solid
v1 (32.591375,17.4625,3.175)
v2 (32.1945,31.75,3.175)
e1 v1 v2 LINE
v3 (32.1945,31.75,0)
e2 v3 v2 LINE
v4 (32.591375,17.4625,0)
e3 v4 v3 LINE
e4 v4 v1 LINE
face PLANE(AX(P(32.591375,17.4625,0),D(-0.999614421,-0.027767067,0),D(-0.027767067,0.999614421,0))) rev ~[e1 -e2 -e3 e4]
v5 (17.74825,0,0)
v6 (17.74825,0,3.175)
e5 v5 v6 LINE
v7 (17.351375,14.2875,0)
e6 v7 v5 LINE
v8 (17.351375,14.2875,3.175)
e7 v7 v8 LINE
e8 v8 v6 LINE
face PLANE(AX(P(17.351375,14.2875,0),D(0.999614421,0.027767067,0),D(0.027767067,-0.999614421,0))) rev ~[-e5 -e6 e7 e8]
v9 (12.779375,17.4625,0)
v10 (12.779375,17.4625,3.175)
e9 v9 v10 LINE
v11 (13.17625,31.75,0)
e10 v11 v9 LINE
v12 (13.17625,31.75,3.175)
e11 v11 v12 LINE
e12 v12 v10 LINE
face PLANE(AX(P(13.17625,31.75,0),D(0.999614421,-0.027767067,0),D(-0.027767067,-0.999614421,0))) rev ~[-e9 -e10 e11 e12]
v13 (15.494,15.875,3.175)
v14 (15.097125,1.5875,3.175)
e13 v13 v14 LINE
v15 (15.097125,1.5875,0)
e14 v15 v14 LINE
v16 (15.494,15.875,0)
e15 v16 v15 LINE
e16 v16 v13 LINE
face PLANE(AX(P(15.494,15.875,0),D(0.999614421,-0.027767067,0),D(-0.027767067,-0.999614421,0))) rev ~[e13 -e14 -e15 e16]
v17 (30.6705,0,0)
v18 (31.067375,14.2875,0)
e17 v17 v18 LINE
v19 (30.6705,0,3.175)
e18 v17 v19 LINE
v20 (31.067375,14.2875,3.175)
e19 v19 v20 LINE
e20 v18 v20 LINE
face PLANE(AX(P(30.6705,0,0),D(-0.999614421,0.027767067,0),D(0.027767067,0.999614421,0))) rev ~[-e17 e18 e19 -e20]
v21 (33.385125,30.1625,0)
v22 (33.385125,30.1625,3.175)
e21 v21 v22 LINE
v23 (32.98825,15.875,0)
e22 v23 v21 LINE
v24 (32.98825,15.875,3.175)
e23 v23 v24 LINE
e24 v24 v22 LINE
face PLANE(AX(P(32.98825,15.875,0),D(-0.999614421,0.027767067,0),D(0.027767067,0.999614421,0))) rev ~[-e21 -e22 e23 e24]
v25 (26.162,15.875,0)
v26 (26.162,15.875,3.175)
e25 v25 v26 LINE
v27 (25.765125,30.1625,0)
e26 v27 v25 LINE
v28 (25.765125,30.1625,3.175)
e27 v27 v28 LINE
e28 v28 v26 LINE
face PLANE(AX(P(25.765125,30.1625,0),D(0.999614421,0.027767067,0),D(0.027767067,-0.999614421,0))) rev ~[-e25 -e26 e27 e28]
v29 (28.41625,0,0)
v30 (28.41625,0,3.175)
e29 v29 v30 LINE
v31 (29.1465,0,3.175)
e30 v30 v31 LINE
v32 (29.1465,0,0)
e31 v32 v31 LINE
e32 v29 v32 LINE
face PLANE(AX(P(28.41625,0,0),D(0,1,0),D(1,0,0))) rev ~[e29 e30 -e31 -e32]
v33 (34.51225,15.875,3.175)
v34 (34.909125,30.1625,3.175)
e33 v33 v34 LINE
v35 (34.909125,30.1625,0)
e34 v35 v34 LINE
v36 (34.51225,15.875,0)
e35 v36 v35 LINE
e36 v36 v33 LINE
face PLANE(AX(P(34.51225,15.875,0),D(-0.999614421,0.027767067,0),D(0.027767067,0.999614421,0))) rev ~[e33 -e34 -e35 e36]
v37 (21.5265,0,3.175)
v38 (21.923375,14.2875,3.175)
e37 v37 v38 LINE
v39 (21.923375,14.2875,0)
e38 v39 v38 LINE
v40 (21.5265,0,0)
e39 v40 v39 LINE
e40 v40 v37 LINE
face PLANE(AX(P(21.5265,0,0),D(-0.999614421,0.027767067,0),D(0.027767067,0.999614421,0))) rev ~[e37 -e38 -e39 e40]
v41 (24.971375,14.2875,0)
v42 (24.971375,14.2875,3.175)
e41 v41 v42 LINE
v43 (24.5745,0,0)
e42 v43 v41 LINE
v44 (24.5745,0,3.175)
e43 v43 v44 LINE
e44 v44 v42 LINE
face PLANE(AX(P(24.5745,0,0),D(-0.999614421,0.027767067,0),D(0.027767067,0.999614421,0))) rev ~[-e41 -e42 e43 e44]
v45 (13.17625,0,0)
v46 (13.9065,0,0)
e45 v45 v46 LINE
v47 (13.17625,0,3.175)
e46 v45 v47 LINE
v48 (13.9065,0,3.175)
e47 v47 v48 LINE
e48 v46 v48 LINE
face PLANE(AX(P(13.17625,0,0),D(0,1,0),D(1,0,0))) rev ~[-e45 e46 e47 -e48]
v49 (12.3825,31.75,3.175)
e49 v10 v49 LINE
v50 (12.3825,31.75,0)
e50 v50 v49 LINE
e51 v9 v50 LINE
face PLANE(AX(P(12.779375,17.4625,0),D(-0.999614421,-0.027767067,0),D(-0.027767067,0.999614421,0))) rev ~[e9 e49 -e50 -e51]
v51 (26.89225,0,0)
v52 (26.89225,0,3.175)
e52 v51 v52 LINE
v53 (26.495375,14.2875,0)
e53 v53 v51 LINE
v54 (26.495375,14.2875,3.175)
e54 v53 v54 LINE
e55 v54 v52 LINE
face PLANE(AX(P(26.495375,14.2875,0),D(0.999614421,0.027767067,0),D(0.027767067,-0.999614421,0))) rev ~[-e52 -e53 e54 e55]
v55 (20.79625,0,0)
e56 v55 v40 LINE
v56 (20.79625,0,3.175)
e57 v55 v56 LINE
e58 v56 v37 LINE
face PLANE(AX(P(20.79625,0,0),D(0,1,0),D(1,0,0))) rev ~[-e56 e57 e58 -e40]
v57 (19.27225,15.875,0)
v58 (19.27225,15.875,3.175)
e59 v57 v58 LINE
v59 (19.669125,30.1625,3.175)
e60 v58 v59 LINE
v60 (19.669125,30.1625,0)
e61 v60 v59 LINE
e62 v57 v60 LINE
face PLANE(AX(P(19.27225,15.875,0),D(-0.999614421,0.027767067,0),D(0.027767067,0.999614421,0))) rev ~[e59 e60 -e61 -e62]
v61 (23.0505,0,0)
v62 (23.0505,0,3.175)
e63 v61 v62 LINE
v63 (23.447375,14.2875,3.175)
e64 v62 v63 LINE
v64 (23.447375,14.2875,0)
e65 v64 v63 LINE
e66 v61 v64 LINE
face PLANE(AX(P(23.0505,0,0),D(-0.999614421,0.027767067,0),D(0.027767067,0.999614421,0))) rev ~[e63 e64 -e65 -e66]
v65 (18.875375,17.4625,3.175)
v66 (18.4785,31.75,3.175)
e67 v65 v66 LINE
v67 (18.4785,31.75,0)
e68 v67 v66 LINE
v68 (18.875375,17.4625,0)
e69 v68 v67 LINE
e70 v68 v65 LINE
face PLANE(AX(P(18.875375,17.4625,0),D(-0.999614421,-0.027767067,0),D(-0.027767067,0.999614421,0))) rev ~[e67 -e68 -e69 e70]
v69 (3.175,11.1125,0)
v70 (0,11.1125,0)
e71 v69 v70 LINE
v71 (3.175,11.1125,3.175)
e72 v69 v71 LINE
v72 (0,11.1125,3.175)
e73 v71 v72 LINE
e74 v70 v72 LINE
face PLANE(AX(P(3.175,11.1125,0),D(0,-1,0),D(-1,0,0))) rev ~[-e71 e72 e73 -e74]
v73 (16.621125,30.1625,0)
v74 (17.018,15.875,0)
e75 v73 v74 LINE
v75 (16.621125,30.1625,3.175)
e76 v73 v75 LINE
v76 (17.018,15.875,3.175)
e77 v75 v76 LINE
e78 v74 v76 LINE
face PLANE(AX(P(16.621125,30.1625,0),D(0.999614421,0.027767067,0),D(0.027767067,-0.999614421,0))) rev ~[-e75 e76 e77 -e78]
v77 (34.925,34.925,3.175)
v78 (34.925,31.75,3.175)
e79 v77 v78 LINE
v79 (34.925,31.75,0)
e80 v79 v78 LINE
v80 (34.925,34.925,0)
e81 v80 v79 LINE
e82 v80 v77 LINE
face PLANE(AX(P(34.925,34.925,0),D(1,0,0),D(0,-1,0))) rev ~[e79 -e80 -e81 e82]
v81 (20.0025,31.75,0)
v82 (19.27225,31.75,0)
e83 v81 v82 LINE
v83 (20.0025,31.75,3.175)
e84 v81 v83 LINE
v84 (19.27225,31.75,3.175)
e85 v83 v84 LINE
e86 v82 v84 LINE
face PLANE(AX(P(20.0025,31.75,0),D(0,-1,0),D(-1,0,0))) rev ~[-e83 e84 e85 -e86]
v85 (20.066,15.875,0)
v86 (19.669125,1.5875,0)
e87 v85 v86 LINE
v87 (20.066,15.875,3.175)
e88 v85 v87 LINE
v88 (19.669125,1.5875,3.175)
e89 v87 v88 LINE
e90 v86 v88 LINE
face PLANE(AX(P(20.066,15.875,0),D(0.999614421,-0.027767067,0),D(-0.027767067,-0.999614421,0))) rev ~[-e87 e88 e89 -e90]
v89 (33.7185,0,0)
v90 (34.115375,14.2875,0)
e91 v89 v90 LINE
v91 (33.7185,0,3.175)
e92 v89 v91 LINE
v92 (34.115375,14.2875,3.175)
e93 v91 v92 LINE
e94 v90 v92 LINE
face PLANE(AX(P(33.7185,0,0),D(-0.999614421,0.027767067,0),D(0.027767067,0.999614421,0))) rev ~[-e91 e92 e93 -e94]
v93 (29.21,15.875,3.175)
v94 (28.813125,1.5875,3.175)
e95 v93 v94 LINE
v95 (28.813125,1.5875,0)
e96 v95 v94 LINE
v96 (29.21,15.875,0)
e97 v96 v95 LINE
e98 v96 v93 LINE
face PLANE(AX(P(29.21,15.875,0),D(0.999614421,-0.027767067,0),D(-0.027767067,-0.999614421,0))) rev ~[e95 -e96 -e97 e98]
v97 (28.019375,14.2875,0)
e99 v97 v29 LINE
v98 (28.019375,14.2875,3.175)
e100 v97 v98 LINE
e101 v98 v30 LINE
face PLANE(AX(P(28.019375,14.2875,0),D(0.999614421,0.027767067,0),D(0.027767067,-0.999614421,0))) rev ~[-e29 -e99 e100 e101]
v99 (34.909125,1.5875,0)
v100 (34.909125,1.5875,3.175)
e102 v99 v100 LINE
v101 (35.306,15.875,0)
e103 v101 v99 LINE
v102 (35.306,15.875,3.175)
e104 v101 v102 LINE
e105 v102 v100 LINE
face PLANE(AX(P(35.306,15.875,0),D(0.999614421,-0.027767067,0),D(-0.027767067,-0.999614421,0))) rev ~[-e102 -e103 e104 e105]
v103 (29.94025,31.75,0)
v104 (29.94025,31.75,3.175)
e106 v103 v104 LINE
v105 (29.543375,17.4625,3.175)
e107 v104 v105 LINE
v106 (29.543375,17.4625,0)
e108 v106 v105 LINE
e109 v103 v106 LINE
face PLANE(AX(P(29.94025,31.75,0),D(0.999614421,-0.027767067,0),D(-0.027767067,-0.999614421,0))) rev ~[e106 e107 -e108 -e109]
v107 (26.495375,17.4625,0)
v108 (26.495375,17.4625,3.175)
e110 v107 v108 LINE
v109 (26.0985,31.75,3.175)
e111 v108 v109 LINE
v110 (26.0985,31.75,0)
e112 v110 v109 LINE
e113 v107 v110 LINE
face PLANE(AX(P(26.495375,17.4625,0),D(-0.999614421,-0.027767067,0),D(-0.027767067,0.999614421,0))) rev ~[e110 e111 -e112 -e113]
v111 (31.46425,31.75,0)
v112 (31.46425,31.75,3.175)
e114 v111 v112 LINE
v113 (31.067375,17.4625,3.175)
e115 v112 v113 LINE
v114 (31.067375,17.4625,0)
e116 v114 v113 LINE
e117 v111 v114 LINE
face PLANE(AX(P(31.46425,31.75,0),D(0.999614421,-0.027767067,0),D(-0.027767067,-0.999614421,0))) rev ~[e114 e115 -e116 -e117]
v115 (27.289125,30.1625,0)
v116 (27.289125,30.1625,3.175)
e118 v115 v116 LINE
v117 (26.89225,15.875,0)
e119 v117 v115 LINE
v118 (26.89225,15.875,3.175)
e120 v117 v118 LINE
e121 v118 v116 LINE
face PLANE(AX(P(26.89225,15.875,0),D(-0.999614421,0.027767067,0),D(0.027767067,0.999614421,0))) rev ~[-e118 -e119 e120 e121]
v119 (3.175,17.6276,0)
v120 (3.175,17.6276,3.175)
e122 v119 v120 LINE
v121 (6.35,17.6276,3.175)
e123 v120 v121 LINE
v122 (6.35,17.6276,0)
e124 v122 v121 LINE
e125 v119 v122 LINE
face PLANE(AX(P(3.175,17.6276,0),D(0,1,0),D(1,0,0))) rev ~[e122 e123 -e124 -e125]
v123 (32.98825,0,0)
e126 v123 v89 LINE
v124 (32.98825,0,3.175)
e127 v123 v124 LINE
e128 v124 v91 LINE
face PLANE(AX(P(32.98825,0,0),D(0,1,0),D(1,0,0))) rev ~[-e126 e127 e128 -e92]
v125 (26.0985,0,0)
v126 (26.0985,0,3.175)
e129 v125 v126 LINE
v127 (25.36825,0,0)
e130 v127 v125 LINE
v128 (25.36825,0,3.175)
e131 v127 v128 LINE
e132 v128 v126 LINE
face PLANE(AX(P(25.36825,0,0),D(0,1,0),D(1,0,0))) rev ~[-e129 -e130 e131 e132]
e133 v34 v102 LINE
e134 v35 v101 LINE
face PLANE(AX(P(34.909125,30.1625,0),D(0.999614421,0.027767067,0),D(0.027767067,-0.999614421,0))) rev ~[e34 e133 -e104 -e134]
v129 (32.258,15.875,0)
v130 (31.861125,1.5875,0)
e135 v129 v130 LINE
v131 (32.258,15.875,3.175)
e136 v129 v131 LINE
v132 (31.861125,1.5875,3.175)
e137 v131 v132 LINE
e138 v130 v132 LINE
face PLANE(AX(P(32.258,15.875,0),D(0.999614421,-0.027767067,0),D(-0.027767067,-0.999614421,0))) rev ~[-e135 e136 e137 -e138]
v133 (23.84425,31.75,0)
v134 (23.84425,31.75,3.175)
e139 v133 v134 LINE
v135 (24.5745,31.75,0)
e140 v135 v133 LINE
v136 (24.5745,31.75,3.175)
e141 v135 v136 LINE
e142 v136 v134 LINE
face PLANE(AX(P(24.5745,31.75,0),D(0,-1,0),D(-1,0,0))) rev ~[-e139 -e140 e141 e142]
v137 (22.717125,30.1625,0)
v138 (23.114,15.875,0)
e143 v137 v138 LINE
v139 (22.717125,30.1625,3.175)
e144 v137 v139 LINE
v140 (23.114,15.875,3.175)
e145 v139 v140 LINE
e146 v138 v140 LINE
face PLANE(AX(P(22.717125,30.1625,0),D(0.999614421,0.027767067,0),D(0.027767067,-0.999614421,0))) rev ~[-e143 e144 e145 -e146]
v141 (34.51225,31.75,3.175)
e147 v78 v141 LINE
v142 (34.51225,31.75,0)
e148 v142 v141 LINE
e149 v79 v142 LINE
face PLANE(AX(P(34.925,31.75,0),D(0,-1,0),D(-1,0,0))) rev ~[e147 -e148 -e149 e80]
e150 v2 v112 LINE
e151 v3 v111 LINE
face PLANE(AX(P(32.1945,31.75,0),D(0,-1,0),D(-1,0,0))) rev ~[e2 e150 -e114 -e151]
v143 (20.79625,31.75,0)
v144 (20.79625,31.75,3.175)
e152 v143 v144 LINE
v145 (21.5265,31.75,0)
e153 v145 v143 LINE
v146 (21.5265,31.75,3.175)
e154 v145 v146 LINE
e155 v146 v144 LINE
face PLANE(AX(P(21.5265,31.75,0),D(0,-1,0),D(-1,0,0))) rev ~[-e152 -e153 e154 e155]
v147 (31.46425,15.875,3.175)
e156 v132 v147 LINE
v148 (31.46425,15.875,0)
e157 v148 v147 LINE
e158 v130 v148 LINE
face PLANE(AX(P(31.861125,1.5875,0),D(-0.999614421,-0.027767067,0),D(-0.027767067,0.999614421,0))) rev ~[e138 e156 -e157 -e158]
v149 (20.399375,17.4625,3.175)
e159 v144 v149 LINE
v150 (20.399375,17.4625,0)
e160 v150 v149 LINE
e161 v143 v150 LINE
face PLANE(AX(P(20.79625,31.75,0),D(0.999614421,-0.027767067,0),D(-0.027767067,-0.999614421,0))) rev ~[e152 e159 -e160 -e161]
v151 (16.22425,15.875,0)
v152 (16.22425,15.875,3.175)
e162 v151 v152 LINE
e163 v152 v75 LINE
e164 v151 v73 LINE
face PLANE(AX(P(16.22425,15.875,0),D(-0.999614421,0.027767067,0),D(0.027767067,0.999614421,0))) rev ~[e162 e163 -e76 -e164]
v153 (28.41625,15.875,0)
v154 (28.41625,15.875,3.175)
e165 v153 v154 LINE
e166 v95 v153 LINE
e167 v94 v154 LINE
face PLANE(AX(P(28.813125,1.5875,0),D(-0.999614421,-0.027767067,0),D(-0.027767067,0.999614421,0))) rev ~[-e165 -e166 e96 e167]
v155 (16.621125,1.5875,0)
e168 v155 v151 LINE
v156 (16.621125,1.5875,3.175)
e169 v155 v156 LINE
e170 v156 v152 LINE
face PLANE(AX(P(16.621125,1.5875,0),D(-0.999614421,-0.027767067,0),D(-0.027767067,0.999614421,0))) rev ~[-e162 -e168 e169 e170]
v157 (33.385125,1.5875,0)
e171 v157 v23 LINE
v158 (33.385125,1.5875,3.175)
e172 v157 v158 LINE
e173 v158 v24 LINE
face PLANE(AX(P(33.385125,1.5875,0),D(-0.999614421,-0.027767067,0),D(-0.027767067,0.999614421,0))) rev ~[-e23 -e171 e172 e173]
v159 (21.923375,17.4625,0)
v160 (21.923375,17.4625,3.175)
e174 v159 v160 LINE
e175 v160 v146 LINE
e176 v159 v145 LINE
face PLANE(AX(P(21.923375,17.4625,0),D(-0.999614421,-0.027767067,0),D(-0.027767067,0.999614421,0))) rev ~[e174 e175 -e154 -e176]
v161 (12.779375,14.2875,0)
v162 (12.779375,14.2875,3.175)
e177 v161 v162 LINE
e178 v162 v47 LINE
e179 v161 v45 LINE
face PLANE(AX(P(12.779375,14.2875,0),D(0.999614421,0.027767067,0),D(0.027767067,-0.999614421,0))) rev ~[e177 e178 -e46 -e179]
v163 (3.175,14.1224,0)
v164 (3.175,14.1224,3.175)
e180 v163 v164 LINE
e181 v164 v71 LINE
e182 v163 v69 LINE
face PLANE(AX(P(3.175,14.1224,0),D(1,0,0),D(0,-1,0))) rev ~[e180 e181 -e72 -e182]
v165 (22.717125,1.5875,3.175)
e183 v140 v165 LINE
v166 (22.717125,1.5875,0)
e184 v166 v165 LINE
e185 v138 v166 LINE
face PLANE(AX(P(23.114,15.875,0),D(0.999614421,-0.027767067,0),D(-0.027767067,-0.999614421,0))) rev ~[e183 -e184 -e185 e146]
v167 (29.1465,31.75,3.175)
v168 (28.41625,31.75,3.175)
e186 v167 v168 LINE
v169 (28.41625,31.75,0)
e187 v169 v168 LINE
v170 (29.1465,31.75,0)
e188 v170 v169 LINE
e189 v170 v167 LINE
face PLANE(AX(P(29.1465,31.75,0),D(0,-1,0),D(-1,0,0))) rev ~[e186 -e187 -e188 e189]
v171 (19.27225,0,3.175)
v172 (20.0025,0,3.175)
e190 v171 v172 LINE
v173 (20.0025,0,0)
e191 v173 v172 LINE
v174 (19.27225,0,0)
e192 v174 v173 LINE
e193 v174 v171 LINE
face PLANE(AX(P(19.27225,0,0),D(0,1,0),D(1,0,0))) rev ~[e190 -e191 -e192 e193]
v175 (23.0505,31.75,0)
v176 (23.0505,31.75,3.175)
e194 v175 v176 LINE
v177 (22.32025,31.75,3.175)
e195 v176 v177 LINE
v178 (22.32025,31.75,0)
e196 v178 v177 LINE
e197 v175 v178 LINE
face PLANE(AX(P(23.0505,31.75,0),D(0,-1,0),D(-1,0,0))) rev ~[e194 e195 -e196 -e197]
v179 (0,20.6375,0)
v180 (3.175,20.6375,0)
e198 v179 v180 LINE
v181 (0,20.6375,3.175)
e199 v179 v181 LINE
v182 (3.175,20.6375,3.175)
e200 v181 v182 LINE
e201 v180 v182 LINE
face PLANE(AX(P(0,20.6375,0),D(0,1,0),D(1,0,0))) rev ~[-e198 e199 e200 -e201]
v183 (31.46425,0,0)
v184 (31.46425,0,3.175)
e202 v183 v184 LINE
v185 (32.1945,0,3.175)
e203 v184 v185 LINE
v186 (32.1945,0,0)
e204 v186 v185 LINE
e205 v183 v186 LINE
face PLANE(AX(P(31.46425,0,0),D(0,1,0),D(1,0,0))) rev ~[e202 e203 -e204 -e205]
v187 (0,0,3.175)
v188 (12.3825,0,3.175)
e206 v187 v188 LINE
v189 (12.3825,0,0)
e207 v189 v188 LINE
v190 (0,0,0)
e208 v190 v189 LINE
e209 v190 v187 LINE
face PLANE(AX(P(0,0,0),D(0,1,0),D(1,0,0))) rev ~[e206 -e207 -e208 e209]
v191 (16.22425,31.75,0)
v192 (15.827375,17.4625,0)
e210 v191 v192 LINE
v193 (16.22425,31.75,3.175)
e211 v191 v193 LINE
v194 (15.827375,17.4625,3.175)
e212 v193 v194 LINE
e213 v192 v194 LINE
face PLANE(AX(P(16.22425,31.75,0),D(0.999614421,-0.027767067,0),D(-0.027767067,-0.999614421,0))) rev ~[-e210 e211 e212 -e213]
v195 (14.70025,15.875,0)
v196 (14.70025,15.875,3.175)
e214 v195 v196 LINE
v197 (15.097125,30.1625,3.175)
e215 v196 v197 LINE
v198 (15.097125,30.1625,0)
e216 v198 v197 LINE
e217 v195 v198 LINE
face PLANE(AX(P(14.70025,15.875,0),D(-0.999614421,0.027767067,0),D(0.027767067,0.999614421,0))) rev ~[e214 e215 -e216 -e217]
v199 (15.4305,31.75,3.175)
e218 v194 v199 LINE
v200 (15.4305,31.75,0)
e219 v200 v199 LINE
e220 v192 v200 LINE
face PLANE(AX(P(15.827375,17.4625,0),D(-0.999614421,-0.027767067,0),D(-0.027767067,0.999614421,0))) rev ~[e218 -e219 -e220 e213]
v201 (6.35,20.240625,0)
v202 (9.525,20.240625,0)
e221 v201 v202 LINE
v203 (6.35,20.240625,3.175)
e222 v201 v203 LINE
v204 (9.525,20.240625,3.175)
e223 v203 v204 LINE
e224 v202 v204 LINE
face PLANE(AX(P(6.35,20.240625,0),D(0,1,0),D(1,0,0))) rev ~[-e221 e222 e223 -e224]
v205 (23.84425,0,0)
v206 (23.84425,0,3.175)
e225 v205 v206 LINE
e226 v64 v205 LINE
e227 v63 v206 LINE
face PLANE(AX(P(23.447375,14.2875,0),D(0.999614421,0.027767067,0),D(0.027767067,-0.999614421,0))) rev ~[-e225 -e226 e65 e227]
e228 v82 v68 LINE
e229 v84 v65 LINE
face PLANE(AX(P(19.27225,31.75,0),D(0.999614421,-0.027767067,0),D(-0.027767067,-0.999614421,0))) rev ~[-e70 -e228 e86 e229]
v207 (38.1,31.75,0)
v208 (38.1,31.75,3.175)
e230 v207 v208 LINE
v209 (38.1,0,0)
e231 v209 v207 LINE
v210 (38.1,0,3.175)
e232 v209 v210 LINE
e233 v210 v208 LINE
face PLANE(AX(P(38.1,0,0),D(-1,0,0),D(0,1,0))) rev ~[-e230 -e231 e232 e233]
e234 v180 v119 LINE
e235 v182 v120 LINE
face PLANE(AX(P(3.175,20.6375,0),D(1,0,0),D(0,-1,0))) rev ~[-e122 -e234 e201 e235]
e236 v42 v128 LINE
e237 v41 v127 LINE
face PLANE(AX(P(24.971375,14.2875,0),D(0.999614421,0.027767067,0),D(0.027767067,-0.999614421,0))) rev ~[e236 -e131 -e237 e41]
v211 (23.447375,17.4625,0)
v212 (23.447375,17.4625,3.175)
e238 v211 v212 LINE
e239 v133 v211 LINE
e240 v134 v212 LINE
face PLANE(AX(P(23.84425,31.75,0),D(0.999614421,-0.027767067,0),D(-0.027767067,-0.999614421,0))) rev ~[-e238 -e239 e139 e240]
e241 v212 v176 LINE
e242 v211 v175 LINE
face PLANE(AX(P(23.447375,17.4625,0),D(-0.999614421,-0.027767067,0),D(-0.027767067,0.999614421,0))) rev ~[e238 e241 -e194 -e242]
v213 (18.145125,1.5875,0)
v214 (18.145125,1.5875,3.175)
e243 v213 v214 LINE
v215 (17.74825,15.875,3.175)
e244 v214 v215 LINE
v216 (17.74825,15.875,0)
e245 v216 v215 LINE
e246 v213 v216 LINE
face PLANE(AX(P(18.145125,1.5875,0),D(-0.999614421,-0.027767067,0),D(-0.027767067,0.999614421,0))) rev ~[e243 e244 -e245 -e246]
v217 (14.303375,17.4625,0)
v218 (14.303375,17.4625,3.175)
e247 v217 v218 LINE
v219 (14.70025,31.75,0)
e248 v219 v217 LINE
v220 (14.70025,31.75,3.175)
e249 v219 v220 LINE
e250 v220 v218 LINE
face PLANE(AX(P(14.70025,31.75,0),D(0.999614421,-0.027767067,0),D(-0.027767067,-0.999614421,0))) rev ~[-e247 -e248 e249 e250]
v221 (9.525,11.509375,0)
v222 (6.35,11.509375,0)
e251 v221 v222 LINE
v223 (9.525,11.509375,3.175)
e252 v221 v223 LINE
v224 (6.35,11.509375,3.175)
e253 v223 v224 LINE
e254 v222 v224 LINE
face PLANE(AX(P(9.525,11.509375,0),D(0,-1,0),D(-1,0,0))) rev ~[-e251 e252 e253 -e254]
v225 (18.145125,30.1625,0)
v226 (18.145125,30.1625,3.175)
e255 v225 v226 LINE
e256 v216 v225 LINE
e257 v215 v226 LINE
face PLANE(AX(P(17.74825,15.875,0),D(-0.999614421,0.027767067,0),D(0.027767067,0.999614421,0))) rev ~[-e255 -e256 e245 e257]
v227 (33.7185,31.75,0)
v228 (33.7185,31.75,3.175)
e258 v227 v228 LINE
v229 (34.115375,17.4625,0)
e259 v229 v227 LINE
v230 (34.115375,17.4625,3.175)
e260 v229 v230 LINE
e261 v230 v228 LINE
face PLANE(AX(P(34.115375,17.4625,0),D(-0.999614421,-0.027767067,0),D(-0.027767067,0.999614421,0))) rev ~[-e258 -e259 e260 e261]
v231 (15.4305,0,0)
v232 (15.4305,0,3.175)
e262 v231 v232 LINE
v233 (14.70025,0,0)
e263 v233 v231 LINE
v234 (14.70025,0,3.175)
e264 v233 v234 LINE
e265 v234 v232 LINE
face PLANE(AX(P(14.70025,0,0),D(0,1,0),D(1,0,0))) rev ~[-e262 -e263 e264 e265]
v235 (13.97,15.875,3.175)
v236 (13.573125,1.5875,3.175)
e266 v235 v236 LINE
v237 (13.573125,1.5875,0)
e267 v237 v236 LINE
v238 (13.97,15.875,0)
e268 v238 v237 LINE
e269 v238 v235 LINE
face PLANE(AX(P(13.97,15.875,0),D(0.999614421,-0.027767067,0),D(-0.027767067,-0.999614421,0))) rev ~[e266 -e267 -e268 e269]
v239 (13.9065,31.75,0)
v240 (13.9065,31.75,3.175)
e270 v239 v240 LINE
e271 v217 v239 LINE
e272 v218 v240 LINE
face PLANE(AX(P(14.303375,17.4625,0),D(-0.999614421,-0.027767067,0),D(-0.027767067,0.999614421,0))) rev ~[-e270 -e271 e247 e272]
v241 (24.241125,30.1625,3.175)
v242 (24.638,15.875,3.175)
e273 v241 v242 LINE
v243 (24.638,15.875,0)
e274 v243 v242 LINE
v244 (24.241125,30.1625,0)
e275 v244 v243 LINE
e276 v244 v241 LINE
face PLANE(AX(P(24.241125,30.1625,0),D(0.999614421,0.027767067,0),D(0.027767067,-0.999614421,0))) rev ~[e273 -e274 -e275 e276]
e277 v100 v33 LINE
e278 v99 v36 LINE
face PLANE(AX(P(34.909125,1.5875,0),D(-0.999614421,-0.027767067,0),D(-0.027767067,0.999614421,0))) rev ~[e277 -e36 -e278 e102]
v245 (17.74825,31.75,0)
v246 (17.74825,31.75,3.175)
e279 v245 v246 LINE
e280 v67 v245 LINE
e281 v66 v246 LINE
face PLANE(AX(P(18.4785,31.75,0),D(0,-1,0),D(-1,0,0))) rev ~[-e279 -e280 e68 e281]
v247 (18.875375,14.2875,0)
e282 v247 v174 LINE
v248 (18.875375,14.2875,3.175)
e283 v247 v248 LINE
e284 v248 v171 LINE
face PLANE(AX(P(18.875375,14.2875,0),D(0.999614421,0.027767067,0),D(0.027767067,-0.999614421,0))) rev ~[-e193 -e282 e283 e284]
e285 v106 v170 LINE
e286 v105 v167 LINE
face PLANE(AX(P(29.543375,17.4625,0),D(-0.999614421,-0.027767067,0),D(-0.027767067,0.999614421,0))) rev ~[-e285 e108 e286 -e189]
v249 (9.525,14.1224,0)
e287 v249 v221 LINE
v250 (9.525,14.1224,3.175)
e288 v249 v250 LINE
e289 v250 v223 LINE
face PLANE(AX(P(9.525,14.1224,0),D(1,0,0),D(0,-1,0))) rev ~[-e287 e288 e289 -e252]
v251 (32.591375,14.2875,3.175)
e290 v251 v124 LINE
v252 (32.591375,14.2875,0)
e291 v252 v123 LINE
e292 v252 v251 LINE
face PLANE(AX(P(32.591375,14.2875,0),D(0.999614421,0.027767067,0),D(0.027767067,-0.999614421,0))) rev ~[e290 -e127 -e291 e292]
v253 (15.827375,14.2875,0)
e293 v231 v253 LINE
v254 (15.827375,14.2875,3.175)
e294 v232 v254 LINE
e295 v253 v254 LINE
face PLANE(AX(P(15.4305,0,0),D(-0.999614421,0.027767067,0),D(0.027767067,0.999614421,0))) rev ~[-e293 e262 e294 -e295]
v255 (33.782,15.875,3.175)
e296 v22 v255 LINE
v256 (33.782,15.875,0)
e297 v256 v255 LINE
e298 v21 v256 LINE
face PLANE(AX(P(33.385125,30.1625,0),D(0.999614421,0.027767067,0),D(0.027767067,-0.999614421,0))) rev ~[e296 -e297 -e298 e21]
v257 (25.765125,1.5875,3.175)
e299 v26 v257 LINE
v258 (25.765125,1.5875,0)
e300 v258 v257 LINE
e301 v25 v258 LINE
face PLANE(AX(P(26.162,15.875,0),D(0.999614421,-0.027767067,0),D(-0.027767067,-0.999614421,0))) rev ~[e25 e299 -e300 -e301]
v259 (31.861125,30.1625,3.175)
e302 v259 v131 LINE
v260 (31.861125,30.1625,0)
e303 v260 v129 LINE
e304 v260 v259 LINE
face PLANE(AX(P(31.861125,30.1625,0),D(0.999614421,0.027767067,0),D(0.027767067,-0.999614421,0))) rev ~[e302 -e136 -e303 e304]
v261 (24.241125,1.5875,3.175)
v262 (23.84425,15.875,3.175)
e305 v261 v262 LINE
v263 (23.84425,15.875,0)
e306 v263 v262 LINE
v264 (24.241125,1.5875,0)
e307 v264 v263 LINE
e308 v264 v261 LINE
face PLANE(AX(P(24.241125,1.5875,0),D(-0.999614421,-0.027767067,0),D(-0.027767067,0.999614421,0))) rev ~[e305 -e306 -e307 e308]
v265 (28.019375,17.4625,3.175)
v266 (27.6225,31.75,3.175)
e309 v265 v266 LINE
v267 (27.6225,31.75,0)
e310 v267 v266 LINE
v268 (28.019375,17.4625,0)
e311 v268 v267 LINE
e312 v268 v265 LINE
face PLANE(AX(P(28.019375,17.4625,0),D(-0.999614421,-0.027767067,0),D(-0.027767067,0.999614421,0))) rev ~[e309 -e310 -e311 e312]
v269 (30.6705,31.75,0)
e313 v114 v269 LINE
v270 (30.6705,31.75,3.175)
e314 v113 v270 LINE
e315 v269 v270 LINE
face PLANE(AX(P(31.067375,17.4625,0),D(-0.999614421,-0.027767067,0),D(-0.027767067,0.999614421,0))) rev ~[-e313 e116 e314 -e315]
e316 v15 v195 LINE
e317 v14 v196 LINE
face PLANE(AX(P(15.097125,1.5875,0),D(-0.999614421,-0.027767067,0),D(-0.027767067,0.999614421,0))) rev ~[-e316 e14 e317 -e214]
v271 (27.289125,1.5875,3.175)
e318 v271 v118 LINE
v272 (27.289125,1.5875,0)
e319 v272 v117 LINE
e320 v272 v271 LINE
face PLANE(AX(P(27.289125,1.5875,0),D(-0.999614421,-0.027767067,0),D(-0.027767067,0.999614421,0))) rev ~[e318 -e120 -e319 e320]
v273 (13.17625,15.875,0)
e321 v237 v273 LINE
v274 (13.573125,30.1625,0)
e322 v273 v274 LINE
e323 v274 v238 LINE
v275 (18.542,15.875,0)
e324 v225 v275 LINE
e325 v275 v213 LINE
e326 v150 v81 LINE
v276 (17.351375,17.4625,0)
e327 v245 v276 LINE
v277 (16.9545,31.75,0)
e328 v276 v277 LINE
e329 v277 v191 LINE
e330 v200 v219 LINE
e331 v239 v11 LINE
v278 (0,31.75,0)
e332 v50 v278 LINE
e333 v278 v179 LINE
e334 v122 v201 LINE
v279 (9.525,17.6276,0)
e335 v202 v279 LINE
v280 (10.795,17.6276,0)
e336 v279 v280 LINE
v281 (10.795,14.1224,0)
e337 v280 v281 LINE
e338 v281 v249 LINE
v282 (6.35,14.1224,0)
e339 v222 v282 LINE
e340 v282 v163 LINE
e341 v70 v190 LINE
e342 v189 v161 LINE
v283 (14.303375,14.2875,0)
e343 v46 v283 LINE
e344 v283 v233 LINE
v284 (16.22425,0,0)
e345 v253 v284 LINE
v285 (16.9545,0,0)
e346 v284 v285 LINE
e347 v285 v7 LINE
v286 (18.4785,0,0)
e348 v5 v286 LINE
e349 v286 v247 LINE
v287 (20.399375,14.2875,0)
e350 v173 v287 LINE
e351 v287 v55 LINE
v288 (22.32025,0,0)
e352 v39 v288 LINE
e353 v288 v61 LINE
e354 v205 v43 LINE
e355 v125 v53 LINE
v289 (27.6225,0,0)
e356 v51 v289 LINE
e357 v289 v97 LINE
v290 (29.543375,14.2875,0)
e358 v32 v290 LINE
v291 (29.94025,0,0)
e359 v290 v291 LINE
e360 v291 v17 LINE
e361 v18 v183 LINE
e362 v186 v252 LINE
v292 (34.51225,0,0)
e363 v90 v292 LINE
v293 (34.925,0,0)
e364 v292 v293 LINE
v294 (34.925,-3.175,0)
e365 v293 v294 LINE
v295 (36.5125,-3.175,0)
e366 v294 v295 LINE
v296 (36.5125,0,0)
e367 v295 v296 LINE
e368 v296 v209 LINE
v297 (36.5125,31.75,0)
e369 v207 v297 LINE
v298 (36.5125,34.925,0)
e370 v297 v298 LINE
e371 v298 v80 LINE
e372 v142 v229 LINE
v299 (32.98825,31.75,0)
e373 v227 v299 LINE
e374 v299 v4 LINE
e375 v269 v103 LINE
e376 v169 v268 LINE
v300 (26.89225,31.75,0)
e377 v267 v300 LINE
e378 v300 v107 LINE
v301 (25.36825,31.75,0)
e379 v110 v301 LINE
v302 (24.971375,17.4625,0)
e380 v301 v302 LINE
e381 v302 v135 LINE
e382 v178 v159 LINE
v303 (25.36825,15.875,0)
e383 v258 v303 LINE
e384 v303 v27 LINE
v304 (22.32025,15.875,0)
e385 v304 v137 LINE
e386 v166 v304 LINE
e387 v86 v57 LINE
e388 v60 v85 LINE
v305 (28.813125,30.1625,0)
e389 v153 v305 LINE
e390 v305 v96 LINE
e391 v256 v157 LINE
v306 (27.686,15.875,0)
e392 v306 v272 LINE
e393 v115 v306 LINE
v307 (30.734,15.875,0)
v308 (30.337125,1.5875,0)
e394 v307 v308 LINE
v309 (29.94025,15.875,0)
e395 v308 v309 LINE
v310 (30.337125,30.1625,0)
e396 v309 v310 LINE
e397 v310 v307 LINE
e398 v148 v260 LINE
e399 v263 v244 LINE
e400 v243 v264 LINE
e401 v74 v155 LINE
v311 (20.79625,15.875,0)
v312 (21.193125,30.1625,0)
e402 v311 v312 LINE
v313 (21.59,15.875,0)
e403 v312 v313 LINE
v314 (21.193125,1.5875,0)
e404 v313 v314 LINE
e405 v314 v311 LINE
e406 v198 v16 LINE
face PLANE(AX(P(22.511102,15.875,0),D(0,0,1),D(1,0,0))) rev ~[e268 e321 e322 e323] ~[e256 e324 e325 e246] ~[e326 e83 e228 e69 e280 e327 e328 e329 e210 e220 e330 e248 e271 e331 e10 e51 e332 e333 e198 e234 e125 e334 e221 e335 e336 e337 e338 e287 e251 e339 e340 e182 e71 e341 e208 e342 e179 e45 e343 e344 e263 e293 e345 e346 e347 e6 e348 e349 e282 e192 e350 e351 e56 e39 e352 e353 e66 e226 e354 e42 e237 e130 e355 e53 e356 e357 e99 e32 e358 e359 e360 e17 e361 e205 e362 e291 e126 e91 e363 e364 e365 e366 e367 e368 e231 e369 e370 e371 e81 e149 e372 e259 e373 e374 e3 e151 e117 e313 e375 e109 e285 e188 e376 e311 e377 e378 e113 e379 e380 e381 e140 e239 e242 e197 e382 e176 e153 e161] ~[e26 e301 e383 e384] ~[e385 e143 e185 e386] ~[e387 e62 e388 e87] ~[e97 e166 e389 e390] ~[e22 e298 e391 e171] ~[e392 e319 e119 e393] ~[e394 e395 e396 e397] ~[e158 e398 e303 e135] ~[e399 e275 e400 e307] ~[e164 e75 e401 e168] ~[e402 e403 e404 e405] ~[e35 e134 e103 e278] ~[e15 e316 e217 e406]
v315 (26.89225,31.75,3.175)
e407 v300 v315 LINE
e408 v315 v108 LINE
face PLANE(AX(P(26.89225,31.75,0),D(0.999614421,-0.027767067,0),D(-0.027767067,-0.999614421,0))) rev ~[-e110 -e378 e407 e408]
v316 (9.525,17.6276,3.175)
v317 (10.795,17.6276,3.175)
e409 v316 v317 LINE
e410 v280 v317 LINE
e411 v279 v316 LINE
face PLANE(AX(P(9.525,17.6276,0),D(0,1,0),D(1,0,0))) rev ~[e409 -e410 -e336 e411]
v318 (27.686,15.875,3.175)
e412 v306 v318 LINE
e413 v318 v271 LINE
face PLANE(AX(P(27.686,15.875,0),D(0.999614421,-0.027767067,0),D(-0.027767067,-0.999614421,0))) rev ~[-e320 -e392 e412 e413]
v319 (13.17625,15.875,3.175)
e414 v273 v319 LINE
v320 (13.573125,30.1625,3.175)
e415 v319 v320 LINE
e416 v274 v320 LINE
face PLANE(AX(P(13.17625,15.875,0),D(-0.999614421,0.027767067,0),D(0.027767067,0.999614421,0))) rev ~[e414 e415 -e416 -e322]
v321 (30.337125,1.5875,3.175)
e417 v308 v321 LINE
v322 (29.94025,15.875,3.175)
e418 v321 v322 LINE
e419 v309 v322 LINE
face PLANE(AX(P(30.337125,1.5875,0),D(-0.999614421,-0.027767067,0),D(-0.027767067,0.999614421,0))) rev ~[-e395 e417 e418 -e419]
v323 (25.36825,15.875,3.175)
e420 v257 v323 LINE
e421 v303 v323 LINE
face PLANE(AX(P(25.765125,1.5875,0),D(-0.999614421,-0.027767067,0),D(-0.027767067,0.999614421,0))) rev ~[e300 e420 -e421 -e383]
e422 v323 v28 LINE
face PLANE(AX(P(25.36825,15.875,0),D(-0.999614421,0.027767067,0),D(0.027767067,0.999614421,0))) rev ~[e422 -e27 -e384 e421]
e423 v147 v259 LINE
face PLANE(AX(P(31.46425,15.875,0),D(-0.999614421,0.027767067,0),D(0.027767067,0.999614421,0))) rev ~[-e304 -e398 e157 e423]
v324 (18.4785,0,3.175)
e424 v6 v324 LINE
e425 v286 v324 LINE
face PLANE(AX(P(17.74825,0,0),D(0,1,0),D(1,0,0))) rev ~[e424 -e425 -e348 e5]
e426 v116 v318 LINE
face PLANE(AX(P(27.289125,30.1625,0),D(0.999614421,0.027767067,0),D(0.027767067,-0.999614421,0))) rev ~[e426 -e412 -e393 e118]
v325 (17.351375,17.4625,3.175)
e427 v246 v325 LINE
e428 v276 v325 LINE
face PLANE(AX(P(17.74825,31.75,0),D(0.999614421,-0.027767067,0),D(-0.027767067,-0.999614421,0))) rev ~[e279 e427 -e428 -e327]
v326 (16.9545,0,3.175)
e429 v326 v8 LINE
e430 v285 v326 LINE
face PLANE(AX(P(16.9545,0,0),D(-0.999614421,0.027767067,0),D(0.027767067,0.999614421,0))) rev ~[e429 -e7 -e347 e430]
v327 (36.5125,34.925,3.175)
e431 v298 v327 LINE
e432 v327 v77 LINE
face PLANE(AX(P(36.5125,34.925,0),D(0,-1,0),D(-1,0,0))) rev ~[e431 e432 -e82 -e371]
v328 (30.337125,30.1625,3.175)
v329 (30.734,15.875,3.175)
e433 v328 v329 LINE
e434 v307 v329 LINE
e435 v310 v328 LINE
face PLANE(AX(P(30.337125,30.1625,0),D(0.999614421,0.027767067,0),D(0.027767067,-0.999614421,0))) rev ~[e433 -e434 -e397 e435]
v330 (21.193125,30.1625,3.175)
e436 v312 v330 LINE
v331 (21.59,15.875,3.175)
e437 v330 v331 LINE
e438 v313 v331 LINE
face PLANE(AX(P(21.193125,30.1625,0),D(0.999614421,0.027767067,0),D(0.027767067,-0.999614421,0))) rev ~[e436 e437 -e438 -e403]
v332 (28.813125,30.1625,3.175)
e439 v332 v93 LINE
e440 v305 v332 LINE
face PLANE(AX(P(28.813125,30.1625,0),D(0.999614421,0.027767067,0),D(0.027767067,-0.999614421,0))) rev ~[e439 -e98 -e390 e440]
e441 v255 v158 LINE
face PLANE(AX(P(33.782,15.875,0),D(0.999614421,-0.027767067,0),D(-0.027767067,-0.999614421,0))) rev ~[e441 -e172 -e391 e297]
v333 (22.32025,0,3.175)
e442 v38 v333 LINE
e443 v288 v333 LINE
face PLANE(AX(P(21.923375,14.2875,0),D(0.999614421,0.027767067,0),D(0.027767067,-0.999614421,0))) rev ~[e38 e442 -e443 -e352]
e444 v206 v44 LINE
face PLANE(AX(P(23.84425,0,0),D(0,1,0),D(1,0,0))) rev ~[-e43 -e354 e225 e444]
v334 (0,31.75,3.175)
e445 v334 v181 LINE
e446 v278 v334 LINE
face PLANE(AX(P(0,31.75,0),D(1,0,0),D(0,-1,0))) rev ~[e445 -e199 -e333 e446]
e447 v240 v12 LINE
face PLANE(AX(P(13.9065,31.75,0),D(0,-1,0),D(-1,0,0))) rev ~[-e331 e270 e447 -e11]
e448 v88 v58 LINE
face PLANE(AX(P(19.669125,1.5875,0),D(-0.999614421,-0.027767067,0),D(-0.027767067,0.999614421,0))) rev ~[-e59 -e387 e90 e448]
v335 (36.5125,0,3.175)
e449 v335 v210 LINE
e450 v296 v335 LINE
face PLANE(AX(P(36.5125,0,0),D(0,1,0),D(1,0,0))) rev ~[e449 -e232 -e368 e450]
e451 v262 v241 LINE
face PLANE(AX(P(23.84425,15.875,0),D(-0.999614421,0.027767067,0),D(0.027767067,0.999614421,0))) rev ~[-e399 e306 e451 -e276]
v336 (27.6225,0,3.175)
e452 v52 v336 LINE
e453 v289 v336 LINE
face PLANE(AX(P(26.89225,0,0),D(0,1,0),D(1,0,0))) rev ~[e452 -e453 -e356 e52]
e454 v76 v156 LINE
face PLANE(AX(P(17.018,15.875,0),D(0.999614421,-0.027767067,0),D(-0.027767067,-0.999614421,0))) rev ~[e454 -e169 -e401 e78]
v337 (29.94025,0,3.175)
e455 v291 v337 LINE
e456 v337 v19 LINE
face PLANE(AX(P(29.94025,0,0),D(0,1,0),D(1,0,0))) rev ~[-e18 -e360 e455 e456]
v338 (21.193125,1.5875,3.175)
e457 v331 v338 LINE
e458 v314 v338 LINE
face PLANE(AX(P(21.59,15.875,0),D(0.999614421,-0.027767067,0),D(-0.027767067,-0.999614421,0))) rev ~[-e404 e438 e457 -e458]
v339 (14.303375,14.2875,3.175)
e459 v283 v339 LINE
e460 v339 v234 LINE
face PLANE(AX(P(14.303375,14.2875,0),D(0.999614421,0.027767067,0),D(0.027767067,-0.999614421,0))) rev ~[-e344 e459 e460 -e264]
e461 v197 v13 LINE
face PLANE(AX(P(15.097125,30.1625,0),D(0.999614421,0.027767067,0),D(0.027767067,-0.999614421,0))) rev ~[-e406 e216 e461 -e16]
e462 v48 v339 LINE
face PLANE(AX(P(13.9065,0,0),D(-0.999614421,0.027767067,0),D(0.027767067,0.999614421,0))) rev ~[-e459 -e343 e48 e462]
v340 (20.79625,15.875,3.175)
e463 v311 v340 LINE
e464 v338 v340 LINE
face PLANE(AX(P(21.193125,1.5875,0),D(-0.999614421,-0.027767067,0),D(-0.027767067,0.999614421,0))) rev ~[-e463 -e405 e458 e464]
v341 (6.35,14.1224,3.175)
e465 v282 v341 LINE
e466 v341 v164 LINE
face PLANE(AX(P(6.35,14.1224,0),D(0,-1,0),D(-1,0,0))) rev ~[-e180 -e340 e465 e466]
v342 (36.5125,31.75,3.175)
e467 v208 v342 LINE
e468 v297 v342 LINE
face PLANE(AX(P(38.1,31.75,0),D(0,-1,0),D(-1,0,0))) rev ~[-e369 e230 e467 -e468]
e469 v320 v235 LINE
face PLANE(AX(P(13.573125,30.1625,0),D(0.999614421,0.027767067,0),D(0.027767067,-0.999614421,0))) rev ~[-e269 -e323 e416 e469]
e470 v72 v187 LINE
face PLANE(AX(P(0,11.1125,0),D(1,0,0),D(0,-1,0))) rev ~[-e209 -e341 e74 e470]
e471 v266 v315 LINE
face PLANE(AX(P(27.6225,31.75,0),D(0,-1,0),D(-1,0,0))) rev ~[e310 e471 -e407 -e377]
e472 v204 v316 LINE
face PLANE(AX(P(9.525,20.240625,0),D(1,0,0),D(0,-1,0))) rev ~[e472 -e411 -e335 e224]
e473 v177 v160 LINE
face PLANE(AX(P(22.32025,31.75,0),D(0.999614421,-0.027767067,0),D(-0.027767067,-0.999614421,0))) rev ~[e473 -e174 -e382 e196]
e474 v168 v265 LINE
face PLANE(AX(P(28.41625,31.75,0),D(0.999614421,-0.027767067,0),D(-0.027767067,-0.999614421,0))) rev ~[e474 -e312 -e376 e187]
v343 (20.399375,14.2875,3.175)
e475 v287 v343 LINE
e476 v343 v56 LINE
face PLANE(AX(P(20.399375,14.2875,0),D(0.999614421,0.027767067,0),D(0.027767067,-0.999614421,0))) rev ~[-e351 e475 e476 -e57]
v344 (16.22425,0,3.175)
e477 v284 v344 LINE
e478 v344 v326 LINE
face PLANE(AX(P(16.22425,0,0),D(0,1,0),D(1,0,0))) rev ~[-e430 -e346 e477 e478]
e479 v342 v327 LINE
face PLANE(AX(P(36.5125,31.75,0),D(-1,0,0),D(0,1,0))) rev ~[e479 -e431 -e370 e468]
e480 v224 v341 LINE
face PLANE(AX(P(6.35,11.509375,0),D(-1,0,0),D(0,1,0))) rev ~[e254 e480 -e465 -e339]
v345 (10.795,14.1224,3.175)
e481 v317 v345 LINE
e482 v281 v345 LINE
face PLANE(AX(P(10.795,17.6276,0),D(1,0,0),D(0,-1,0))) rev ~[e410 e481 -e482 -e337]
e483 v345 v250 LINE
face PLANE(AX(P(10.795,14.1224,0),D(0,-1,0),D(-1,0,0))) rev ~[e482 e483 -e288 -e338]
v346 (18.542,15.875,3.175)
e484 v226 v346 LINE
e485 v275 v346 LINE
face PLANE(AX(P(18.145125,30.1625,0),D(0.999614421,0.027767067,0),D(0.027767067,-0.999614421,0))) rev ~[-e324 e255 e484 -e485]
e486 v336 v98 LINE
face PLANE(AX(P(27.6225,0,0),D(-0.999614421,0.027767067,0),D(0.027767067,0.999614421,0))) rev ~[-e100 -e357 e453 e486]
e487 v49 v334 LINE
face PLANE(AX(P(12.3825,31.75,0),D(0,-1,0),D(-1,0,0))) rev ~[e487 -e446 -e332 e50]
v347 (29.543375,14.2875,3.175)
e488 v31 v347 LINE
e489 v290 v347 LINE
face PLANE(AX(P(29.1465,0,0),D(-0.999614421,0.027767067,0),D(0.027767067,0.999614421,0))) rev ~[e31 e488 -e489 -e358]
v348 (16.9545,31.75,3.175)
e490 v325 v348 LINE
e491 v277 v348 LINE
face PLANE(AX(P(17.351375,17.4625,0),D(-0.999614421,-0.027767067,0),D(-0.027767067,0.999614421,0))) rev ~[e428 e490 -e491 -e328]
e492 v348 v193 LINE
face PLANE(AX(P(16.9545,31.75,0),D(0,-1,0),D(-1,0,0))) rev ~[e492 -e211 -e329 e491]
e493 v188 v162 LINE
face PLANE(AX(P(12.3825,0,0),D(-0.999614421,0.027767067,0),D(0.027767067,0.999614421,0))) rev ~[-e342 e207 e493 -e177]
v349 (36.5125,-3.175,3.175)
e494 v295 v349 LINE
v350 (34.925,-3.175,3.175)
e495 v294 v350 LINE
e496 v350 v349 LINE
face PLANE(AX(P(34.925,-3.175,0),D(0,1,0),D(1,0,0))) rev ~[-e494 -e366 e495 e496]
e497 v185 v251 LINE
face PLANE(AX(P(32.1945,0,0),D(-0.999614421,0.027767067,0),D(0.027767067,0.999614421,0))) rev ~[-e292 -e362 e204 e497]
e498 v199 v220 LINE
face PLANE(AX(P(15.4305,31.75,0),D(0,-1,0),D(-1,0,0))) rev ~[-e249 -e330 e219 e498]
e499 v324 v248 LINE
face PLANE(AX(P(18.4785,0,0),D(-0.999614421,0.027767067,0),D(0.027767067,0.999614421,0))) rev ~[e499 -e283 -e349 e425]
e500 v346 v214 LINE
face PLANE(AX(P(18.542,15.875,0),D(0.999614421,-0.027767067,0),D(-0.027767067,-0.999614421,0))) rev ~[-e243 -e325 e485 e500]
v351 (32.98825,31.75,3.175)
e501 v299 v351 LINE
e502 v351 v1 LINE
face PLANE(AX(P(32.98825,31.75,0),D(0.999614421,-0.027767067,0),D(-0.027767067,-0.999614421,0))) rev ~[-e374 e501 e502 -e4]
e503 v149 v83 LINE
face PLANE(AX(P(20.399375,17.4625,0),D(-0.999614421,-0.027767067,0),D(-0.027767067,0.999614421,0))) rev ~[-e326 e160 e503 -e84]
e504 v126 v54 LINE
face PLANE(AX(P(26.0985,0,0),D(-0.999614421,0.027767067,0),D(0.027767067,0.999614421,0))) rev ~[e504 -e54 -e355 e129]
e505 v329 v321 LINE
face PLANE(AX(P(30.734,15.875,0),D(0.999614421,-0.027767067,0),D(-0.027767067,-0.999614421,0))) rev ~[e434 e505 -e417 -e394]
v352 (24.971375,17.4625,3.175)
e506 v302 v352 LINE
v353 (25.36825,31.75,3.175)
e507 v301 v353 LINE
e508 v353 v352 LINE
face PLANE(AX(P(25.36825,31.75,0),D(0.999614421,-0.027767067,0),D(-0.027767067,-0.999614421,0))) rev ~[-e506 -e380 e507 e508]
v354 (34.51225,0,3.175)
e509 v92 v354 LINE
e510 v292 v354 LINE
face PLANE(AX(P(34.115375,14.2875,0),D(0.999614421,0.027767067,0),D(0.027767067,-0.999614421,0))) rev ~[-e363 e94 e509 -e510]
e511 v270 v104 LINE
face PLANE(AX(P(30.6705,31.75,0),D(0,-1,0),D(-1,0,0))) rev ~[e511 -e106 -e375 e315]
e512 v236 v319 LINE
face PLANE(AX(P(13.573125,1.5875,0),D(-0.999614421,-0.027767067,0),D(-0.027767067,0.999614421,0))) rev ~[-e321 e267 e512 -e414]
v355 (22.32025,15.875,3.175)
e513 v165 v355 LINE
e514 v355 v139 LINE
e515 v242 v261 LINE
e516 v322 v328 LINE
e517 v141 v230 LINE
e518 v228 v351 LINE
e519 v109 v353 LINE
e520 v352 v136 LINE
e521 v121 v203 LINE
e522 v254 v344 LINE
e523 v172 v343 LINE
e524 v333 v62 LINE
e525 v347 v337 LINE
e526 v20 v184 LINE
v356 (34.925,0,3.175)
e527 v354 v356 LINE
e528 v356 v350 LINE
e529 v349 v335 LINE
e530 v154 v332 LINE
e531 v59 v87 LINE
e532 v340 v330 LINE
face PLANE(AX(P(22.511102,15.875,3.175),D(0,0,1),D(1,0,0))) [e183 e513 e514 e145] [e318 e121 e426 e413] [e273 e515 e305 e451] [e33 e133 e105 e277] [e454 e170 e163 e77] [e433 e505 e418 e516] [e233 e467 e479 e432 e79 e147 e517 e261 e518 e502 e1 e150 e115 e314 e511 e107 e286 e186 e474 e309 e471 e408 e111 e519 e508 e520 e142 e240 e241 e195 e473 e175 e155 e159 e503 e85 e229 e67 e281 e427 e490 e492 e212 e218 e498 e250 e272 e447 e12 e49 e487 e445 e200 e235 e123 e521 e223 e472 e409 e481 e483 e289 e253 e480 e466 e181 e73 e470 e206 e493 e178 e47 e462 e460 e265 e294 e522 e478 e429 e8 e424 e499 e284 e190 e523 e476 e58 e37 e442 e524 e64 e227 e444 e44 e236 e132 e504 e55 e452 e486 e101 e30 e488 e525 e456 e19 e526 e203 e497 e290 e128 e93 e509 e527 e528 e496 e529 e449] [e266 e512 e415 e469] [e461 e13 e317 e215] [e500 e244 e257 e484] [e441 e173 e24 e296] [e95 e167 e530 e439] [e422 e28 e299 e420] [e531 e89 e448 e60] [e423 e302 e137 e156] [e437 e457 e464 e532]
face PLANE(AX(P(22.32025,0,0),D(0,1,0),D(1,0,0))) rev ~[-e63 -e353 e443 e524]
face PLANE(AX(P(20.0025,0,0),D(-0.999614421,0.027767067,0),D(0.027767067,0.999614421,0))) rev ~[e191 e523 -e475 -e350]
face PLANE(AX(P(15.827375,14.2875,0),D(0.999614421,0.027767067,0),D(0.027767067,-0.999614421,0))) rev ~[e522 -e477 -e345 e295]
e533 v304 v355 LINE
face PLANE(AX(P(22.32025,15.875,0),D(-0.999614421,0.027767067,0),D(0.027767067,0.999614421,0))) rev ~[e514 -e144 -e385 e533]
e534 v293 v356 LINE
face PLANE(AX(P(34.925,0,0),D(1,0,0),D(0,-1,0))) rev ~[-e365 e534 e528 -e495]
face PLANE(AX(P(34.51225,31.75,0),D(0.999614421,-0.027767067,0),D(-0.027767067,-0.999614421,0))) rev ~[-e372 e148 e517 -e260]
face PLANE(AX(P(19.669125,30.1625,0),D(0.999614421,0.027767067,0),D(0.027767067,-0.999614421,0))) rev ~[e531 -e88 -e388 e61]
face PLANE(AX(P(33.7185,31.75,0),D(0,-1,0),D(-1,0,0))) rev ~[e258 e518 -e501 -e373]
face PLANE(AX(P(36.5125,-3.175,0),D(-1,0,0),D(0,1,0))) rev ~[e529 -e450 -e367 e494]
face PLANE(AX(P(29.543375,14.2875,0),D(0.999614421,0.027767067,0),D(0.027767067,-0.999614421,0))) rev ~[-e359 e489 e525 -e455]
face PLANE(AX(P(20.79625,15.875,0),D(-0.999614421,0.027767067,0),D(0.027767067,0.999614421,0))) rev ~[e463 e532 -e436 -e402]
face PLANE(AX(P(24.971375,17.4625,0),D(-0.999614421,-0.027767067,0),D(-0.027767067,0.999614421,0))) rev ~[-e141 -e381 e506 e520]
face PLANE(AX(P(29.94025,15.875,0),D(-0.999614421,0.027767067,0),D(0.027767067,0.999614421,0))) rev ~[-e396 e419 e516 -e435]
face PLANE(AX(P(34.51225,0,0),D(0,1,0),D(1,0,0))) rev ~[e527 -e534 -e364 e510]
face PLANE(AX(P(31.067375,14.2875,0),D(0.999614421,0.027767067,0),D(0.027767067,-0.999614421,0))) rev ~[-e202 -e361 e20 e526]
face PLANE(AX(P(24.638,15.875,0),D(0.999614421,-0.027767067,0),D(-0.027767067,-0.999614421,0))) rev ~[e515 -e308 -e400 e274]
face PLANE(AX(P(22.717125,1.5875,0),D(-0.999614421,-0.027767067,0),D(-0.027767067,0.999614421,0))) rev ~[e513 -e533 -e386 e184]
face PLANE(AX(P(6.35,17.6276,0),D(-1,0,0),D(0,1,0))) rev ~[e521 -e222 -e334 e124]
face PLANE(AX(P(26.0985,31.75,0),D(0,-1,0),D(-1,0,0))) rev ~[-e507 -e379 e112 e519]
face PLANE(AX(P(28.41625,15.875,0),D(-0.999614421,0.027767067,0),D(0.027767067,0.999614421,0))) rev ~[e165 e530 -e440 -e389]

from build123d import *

# Parameters (mm, degrees)
BOSS_EXTRUDE2_DEPTH = 3.175


with BuildPart() as part:
    # Sketch1 → Boss-Extrude2 (new body)
    with BuildSketch(Plane.XY):
        Polygon((3.175, 20.6375), (3.175, 17.6276), (6.35, 17.6276), (6.35, 20.240625), (9.525, 20.240625), (9.525, 17.6276), (10.795, 17.6276), (10.795, 14.1224), (9.525, 14.1224), (9.525, 11.509375), (6.35, 11.509375), (6.35, 14.1224), (3.175, 14.1224), (3.175, 11.1125), (0, 11.1125), (0, 0), (12.3825, 0), (12.779375, 14.2875), (13.17625, 0), (13.9065, 0), (14.303375, 14.2875), (14.70025, 0), (15.4305, 0), (15.827375, 14.2875), (16.22425, 0), (16.9545, 0), (17.351375, 14.2875), (17.74825, 0), (18.4785, 0), (18.875375, 14.2875), (19.27225, 0), (20.0025, 0), (20.399375, 14.2875), (20.79625, 0), (21.5265, 0), (21.923375, 14.2875), (22.32025, 0), (23.0505, 0), (23.447375, 14.2875), (23.84425, 0), (24.5745, 0), (24.971375, 14.2875), (25.36825, 0), (26.0985, 0), (26.495375, 14.2875), (26.89225, 0), (27.6225, 0), (28.019375, 14.2875), (28.41625, 0), (29.1465, 0), (29.543375, 14.2875), (29.94025, 0), (30.6705, 0), (31.067375, 14.2875), (31.46425, 0), (32.1945, 0), (32.591375, 14.2875), (32.98825, 0), (33.7185, 0), (34.115375, 14.2875), (34.51225, 0), (34.925, 0), (34.925, -3.175), (36.5125, -3.175), (36.5125, 0), (38.1, 0), (38.1, 31.75), (36.5125, 31.75), (36.5125, 34.925), (34.925, 34.925), (34.925, 31.75), (34.51225, 31.75), (34.115375, 17.4625), (33.7185, 31.75), (32.98825, 31.75), (32.591375, 17.4625), (32.1945, 31.75), (31.46425, 31.75), (31.067375, 17.4625), (30.6705, 31.75), (29.94025, 31.75), (29.543375, 17.4625), (29.1465, 31.75), (28.41625, 31.75), (28.019375, 17.4625), (27.6225, 31.75), (26.89225, 31.75), (26.495375, 17.4625), (26.0985, 31.75), (25.36825, 31.75), (24.971375, 17.4625), (24.5745, 31.75), (23.84425, 31.75), (23.447375, 17.4625), (23.0505, 31.75), (22.32025, 31.75), (21.923375, 17.4625), (21.5265, 31.75), (20.79625, 31.75), (20.399375, 17.4625), (20.0025, 31.75), (19.27225, 31.75), (18.875375, 17.4625), (18.4785, 31.75), (17.74825, 31.75), (17.351375, 17.4625), (16.9545, 31.75), (16.22425, 31.75), (15.827375, 17.4625), (15.4305, 31.75), (14.70025, 31.75), (14.303375, 17.4625), (13.9065, 31.75), (13.17625, 31.75), (12.779375, 17.4625), (12.3825, 31.75), (0, 31.75), (0, 20.6375), align=None)
        Polygon((13.17625, 15.875), (13.573125, 30.1625), (13.97, 15.875), (13.573125, 1.5875), align=None, mode=Mode.SUBTRACT)
        Polygon((14.70025, 15.875), (15.097125, 30.1625), (15.494, 15.875), (15.097125, 1.5875), align=None, mode=Mode.SUBTRACT)
        Polygon((16.22425, 15.875), (16.621125, 30.1625), (17.018, 15.875), (16.621125, 1.5875), align=None, mode=Mode.SUBTRACT)
        Polygon((17.74825, 15.875), (18.145125, 30.1625), (18.542, 15.875), (18.145125, 1.5875), align=None, mode=Mode.SUBTRACT)
        Polygon((19.27225, 15.875), (19.669125, 30.1625), (20.066, 15.875), (19.669125, 1.5875), align=None, mode=Mode.SUBTRACT)
        Polygon((20.79625, 15.875), (21.193125, 30.1625), (21.59, 15.875), (21.193125, 1.5875), align=None, mode=Mode.SUBTRACT)
        Polygon((22.32025, 15.875), (22.717125, 30.1625), (23.114, 15.875), (22.717125, 1.5875), align=None, mode=Mode.SUBTRACT)
        Polygon((23.84425, 15.875), (24.241125, 30.1625), (24.638, 15.875), (24.241125, 1.5875), align=None, mode=Mode.SUBTRACT)
        Polygon((25.36825, 15.875), (25.765125, 30.1625), (26.162, 15.875), (25.765125, 1.5875), align=None, mode=Mode.SUBTRACT)
        Polygon((26.89225, 15.875), (27.289125, 30.1625), (27.686, 15.875), (27.289125, 1.5875), align=None, mode=Mode.SUBTRACT)
        Polygon((28.41625, 15.875), (28.813125, 30.1625), (29.21, 15.875), (28.813125, 1.5875), align=None, mode=Mode.SUBTRACT)
        Polygon((29.94025, 15.875), (30.337125, 30.1625), (30.734, 15.875), (30.337125, 1.5875), align=None, mode=Mode.SUBTRACT)
        Polygon((31.46425, 15.875), (31.861125, 30.1625), (32.258, 15.875), (31.861125, 1.5875), align=None, mode=Mode.SUBTRACT)
        Polygon((32.98825, 15.875), (33.385125, 30.1625), (33.782, 15.875), (33.385125, 1.5875), align=None, mode=Mode.SUBTRACT)
        Polygon((34.51225, 15.875), (34.909125, 30.1625), (35.306, 15.875), (34.909125, 1.5875), align=None, mode=Mode.SUBTRACT)
    extrude(amount=BOSS_EXTRUDE2_DEPTH)


solid = part.part
